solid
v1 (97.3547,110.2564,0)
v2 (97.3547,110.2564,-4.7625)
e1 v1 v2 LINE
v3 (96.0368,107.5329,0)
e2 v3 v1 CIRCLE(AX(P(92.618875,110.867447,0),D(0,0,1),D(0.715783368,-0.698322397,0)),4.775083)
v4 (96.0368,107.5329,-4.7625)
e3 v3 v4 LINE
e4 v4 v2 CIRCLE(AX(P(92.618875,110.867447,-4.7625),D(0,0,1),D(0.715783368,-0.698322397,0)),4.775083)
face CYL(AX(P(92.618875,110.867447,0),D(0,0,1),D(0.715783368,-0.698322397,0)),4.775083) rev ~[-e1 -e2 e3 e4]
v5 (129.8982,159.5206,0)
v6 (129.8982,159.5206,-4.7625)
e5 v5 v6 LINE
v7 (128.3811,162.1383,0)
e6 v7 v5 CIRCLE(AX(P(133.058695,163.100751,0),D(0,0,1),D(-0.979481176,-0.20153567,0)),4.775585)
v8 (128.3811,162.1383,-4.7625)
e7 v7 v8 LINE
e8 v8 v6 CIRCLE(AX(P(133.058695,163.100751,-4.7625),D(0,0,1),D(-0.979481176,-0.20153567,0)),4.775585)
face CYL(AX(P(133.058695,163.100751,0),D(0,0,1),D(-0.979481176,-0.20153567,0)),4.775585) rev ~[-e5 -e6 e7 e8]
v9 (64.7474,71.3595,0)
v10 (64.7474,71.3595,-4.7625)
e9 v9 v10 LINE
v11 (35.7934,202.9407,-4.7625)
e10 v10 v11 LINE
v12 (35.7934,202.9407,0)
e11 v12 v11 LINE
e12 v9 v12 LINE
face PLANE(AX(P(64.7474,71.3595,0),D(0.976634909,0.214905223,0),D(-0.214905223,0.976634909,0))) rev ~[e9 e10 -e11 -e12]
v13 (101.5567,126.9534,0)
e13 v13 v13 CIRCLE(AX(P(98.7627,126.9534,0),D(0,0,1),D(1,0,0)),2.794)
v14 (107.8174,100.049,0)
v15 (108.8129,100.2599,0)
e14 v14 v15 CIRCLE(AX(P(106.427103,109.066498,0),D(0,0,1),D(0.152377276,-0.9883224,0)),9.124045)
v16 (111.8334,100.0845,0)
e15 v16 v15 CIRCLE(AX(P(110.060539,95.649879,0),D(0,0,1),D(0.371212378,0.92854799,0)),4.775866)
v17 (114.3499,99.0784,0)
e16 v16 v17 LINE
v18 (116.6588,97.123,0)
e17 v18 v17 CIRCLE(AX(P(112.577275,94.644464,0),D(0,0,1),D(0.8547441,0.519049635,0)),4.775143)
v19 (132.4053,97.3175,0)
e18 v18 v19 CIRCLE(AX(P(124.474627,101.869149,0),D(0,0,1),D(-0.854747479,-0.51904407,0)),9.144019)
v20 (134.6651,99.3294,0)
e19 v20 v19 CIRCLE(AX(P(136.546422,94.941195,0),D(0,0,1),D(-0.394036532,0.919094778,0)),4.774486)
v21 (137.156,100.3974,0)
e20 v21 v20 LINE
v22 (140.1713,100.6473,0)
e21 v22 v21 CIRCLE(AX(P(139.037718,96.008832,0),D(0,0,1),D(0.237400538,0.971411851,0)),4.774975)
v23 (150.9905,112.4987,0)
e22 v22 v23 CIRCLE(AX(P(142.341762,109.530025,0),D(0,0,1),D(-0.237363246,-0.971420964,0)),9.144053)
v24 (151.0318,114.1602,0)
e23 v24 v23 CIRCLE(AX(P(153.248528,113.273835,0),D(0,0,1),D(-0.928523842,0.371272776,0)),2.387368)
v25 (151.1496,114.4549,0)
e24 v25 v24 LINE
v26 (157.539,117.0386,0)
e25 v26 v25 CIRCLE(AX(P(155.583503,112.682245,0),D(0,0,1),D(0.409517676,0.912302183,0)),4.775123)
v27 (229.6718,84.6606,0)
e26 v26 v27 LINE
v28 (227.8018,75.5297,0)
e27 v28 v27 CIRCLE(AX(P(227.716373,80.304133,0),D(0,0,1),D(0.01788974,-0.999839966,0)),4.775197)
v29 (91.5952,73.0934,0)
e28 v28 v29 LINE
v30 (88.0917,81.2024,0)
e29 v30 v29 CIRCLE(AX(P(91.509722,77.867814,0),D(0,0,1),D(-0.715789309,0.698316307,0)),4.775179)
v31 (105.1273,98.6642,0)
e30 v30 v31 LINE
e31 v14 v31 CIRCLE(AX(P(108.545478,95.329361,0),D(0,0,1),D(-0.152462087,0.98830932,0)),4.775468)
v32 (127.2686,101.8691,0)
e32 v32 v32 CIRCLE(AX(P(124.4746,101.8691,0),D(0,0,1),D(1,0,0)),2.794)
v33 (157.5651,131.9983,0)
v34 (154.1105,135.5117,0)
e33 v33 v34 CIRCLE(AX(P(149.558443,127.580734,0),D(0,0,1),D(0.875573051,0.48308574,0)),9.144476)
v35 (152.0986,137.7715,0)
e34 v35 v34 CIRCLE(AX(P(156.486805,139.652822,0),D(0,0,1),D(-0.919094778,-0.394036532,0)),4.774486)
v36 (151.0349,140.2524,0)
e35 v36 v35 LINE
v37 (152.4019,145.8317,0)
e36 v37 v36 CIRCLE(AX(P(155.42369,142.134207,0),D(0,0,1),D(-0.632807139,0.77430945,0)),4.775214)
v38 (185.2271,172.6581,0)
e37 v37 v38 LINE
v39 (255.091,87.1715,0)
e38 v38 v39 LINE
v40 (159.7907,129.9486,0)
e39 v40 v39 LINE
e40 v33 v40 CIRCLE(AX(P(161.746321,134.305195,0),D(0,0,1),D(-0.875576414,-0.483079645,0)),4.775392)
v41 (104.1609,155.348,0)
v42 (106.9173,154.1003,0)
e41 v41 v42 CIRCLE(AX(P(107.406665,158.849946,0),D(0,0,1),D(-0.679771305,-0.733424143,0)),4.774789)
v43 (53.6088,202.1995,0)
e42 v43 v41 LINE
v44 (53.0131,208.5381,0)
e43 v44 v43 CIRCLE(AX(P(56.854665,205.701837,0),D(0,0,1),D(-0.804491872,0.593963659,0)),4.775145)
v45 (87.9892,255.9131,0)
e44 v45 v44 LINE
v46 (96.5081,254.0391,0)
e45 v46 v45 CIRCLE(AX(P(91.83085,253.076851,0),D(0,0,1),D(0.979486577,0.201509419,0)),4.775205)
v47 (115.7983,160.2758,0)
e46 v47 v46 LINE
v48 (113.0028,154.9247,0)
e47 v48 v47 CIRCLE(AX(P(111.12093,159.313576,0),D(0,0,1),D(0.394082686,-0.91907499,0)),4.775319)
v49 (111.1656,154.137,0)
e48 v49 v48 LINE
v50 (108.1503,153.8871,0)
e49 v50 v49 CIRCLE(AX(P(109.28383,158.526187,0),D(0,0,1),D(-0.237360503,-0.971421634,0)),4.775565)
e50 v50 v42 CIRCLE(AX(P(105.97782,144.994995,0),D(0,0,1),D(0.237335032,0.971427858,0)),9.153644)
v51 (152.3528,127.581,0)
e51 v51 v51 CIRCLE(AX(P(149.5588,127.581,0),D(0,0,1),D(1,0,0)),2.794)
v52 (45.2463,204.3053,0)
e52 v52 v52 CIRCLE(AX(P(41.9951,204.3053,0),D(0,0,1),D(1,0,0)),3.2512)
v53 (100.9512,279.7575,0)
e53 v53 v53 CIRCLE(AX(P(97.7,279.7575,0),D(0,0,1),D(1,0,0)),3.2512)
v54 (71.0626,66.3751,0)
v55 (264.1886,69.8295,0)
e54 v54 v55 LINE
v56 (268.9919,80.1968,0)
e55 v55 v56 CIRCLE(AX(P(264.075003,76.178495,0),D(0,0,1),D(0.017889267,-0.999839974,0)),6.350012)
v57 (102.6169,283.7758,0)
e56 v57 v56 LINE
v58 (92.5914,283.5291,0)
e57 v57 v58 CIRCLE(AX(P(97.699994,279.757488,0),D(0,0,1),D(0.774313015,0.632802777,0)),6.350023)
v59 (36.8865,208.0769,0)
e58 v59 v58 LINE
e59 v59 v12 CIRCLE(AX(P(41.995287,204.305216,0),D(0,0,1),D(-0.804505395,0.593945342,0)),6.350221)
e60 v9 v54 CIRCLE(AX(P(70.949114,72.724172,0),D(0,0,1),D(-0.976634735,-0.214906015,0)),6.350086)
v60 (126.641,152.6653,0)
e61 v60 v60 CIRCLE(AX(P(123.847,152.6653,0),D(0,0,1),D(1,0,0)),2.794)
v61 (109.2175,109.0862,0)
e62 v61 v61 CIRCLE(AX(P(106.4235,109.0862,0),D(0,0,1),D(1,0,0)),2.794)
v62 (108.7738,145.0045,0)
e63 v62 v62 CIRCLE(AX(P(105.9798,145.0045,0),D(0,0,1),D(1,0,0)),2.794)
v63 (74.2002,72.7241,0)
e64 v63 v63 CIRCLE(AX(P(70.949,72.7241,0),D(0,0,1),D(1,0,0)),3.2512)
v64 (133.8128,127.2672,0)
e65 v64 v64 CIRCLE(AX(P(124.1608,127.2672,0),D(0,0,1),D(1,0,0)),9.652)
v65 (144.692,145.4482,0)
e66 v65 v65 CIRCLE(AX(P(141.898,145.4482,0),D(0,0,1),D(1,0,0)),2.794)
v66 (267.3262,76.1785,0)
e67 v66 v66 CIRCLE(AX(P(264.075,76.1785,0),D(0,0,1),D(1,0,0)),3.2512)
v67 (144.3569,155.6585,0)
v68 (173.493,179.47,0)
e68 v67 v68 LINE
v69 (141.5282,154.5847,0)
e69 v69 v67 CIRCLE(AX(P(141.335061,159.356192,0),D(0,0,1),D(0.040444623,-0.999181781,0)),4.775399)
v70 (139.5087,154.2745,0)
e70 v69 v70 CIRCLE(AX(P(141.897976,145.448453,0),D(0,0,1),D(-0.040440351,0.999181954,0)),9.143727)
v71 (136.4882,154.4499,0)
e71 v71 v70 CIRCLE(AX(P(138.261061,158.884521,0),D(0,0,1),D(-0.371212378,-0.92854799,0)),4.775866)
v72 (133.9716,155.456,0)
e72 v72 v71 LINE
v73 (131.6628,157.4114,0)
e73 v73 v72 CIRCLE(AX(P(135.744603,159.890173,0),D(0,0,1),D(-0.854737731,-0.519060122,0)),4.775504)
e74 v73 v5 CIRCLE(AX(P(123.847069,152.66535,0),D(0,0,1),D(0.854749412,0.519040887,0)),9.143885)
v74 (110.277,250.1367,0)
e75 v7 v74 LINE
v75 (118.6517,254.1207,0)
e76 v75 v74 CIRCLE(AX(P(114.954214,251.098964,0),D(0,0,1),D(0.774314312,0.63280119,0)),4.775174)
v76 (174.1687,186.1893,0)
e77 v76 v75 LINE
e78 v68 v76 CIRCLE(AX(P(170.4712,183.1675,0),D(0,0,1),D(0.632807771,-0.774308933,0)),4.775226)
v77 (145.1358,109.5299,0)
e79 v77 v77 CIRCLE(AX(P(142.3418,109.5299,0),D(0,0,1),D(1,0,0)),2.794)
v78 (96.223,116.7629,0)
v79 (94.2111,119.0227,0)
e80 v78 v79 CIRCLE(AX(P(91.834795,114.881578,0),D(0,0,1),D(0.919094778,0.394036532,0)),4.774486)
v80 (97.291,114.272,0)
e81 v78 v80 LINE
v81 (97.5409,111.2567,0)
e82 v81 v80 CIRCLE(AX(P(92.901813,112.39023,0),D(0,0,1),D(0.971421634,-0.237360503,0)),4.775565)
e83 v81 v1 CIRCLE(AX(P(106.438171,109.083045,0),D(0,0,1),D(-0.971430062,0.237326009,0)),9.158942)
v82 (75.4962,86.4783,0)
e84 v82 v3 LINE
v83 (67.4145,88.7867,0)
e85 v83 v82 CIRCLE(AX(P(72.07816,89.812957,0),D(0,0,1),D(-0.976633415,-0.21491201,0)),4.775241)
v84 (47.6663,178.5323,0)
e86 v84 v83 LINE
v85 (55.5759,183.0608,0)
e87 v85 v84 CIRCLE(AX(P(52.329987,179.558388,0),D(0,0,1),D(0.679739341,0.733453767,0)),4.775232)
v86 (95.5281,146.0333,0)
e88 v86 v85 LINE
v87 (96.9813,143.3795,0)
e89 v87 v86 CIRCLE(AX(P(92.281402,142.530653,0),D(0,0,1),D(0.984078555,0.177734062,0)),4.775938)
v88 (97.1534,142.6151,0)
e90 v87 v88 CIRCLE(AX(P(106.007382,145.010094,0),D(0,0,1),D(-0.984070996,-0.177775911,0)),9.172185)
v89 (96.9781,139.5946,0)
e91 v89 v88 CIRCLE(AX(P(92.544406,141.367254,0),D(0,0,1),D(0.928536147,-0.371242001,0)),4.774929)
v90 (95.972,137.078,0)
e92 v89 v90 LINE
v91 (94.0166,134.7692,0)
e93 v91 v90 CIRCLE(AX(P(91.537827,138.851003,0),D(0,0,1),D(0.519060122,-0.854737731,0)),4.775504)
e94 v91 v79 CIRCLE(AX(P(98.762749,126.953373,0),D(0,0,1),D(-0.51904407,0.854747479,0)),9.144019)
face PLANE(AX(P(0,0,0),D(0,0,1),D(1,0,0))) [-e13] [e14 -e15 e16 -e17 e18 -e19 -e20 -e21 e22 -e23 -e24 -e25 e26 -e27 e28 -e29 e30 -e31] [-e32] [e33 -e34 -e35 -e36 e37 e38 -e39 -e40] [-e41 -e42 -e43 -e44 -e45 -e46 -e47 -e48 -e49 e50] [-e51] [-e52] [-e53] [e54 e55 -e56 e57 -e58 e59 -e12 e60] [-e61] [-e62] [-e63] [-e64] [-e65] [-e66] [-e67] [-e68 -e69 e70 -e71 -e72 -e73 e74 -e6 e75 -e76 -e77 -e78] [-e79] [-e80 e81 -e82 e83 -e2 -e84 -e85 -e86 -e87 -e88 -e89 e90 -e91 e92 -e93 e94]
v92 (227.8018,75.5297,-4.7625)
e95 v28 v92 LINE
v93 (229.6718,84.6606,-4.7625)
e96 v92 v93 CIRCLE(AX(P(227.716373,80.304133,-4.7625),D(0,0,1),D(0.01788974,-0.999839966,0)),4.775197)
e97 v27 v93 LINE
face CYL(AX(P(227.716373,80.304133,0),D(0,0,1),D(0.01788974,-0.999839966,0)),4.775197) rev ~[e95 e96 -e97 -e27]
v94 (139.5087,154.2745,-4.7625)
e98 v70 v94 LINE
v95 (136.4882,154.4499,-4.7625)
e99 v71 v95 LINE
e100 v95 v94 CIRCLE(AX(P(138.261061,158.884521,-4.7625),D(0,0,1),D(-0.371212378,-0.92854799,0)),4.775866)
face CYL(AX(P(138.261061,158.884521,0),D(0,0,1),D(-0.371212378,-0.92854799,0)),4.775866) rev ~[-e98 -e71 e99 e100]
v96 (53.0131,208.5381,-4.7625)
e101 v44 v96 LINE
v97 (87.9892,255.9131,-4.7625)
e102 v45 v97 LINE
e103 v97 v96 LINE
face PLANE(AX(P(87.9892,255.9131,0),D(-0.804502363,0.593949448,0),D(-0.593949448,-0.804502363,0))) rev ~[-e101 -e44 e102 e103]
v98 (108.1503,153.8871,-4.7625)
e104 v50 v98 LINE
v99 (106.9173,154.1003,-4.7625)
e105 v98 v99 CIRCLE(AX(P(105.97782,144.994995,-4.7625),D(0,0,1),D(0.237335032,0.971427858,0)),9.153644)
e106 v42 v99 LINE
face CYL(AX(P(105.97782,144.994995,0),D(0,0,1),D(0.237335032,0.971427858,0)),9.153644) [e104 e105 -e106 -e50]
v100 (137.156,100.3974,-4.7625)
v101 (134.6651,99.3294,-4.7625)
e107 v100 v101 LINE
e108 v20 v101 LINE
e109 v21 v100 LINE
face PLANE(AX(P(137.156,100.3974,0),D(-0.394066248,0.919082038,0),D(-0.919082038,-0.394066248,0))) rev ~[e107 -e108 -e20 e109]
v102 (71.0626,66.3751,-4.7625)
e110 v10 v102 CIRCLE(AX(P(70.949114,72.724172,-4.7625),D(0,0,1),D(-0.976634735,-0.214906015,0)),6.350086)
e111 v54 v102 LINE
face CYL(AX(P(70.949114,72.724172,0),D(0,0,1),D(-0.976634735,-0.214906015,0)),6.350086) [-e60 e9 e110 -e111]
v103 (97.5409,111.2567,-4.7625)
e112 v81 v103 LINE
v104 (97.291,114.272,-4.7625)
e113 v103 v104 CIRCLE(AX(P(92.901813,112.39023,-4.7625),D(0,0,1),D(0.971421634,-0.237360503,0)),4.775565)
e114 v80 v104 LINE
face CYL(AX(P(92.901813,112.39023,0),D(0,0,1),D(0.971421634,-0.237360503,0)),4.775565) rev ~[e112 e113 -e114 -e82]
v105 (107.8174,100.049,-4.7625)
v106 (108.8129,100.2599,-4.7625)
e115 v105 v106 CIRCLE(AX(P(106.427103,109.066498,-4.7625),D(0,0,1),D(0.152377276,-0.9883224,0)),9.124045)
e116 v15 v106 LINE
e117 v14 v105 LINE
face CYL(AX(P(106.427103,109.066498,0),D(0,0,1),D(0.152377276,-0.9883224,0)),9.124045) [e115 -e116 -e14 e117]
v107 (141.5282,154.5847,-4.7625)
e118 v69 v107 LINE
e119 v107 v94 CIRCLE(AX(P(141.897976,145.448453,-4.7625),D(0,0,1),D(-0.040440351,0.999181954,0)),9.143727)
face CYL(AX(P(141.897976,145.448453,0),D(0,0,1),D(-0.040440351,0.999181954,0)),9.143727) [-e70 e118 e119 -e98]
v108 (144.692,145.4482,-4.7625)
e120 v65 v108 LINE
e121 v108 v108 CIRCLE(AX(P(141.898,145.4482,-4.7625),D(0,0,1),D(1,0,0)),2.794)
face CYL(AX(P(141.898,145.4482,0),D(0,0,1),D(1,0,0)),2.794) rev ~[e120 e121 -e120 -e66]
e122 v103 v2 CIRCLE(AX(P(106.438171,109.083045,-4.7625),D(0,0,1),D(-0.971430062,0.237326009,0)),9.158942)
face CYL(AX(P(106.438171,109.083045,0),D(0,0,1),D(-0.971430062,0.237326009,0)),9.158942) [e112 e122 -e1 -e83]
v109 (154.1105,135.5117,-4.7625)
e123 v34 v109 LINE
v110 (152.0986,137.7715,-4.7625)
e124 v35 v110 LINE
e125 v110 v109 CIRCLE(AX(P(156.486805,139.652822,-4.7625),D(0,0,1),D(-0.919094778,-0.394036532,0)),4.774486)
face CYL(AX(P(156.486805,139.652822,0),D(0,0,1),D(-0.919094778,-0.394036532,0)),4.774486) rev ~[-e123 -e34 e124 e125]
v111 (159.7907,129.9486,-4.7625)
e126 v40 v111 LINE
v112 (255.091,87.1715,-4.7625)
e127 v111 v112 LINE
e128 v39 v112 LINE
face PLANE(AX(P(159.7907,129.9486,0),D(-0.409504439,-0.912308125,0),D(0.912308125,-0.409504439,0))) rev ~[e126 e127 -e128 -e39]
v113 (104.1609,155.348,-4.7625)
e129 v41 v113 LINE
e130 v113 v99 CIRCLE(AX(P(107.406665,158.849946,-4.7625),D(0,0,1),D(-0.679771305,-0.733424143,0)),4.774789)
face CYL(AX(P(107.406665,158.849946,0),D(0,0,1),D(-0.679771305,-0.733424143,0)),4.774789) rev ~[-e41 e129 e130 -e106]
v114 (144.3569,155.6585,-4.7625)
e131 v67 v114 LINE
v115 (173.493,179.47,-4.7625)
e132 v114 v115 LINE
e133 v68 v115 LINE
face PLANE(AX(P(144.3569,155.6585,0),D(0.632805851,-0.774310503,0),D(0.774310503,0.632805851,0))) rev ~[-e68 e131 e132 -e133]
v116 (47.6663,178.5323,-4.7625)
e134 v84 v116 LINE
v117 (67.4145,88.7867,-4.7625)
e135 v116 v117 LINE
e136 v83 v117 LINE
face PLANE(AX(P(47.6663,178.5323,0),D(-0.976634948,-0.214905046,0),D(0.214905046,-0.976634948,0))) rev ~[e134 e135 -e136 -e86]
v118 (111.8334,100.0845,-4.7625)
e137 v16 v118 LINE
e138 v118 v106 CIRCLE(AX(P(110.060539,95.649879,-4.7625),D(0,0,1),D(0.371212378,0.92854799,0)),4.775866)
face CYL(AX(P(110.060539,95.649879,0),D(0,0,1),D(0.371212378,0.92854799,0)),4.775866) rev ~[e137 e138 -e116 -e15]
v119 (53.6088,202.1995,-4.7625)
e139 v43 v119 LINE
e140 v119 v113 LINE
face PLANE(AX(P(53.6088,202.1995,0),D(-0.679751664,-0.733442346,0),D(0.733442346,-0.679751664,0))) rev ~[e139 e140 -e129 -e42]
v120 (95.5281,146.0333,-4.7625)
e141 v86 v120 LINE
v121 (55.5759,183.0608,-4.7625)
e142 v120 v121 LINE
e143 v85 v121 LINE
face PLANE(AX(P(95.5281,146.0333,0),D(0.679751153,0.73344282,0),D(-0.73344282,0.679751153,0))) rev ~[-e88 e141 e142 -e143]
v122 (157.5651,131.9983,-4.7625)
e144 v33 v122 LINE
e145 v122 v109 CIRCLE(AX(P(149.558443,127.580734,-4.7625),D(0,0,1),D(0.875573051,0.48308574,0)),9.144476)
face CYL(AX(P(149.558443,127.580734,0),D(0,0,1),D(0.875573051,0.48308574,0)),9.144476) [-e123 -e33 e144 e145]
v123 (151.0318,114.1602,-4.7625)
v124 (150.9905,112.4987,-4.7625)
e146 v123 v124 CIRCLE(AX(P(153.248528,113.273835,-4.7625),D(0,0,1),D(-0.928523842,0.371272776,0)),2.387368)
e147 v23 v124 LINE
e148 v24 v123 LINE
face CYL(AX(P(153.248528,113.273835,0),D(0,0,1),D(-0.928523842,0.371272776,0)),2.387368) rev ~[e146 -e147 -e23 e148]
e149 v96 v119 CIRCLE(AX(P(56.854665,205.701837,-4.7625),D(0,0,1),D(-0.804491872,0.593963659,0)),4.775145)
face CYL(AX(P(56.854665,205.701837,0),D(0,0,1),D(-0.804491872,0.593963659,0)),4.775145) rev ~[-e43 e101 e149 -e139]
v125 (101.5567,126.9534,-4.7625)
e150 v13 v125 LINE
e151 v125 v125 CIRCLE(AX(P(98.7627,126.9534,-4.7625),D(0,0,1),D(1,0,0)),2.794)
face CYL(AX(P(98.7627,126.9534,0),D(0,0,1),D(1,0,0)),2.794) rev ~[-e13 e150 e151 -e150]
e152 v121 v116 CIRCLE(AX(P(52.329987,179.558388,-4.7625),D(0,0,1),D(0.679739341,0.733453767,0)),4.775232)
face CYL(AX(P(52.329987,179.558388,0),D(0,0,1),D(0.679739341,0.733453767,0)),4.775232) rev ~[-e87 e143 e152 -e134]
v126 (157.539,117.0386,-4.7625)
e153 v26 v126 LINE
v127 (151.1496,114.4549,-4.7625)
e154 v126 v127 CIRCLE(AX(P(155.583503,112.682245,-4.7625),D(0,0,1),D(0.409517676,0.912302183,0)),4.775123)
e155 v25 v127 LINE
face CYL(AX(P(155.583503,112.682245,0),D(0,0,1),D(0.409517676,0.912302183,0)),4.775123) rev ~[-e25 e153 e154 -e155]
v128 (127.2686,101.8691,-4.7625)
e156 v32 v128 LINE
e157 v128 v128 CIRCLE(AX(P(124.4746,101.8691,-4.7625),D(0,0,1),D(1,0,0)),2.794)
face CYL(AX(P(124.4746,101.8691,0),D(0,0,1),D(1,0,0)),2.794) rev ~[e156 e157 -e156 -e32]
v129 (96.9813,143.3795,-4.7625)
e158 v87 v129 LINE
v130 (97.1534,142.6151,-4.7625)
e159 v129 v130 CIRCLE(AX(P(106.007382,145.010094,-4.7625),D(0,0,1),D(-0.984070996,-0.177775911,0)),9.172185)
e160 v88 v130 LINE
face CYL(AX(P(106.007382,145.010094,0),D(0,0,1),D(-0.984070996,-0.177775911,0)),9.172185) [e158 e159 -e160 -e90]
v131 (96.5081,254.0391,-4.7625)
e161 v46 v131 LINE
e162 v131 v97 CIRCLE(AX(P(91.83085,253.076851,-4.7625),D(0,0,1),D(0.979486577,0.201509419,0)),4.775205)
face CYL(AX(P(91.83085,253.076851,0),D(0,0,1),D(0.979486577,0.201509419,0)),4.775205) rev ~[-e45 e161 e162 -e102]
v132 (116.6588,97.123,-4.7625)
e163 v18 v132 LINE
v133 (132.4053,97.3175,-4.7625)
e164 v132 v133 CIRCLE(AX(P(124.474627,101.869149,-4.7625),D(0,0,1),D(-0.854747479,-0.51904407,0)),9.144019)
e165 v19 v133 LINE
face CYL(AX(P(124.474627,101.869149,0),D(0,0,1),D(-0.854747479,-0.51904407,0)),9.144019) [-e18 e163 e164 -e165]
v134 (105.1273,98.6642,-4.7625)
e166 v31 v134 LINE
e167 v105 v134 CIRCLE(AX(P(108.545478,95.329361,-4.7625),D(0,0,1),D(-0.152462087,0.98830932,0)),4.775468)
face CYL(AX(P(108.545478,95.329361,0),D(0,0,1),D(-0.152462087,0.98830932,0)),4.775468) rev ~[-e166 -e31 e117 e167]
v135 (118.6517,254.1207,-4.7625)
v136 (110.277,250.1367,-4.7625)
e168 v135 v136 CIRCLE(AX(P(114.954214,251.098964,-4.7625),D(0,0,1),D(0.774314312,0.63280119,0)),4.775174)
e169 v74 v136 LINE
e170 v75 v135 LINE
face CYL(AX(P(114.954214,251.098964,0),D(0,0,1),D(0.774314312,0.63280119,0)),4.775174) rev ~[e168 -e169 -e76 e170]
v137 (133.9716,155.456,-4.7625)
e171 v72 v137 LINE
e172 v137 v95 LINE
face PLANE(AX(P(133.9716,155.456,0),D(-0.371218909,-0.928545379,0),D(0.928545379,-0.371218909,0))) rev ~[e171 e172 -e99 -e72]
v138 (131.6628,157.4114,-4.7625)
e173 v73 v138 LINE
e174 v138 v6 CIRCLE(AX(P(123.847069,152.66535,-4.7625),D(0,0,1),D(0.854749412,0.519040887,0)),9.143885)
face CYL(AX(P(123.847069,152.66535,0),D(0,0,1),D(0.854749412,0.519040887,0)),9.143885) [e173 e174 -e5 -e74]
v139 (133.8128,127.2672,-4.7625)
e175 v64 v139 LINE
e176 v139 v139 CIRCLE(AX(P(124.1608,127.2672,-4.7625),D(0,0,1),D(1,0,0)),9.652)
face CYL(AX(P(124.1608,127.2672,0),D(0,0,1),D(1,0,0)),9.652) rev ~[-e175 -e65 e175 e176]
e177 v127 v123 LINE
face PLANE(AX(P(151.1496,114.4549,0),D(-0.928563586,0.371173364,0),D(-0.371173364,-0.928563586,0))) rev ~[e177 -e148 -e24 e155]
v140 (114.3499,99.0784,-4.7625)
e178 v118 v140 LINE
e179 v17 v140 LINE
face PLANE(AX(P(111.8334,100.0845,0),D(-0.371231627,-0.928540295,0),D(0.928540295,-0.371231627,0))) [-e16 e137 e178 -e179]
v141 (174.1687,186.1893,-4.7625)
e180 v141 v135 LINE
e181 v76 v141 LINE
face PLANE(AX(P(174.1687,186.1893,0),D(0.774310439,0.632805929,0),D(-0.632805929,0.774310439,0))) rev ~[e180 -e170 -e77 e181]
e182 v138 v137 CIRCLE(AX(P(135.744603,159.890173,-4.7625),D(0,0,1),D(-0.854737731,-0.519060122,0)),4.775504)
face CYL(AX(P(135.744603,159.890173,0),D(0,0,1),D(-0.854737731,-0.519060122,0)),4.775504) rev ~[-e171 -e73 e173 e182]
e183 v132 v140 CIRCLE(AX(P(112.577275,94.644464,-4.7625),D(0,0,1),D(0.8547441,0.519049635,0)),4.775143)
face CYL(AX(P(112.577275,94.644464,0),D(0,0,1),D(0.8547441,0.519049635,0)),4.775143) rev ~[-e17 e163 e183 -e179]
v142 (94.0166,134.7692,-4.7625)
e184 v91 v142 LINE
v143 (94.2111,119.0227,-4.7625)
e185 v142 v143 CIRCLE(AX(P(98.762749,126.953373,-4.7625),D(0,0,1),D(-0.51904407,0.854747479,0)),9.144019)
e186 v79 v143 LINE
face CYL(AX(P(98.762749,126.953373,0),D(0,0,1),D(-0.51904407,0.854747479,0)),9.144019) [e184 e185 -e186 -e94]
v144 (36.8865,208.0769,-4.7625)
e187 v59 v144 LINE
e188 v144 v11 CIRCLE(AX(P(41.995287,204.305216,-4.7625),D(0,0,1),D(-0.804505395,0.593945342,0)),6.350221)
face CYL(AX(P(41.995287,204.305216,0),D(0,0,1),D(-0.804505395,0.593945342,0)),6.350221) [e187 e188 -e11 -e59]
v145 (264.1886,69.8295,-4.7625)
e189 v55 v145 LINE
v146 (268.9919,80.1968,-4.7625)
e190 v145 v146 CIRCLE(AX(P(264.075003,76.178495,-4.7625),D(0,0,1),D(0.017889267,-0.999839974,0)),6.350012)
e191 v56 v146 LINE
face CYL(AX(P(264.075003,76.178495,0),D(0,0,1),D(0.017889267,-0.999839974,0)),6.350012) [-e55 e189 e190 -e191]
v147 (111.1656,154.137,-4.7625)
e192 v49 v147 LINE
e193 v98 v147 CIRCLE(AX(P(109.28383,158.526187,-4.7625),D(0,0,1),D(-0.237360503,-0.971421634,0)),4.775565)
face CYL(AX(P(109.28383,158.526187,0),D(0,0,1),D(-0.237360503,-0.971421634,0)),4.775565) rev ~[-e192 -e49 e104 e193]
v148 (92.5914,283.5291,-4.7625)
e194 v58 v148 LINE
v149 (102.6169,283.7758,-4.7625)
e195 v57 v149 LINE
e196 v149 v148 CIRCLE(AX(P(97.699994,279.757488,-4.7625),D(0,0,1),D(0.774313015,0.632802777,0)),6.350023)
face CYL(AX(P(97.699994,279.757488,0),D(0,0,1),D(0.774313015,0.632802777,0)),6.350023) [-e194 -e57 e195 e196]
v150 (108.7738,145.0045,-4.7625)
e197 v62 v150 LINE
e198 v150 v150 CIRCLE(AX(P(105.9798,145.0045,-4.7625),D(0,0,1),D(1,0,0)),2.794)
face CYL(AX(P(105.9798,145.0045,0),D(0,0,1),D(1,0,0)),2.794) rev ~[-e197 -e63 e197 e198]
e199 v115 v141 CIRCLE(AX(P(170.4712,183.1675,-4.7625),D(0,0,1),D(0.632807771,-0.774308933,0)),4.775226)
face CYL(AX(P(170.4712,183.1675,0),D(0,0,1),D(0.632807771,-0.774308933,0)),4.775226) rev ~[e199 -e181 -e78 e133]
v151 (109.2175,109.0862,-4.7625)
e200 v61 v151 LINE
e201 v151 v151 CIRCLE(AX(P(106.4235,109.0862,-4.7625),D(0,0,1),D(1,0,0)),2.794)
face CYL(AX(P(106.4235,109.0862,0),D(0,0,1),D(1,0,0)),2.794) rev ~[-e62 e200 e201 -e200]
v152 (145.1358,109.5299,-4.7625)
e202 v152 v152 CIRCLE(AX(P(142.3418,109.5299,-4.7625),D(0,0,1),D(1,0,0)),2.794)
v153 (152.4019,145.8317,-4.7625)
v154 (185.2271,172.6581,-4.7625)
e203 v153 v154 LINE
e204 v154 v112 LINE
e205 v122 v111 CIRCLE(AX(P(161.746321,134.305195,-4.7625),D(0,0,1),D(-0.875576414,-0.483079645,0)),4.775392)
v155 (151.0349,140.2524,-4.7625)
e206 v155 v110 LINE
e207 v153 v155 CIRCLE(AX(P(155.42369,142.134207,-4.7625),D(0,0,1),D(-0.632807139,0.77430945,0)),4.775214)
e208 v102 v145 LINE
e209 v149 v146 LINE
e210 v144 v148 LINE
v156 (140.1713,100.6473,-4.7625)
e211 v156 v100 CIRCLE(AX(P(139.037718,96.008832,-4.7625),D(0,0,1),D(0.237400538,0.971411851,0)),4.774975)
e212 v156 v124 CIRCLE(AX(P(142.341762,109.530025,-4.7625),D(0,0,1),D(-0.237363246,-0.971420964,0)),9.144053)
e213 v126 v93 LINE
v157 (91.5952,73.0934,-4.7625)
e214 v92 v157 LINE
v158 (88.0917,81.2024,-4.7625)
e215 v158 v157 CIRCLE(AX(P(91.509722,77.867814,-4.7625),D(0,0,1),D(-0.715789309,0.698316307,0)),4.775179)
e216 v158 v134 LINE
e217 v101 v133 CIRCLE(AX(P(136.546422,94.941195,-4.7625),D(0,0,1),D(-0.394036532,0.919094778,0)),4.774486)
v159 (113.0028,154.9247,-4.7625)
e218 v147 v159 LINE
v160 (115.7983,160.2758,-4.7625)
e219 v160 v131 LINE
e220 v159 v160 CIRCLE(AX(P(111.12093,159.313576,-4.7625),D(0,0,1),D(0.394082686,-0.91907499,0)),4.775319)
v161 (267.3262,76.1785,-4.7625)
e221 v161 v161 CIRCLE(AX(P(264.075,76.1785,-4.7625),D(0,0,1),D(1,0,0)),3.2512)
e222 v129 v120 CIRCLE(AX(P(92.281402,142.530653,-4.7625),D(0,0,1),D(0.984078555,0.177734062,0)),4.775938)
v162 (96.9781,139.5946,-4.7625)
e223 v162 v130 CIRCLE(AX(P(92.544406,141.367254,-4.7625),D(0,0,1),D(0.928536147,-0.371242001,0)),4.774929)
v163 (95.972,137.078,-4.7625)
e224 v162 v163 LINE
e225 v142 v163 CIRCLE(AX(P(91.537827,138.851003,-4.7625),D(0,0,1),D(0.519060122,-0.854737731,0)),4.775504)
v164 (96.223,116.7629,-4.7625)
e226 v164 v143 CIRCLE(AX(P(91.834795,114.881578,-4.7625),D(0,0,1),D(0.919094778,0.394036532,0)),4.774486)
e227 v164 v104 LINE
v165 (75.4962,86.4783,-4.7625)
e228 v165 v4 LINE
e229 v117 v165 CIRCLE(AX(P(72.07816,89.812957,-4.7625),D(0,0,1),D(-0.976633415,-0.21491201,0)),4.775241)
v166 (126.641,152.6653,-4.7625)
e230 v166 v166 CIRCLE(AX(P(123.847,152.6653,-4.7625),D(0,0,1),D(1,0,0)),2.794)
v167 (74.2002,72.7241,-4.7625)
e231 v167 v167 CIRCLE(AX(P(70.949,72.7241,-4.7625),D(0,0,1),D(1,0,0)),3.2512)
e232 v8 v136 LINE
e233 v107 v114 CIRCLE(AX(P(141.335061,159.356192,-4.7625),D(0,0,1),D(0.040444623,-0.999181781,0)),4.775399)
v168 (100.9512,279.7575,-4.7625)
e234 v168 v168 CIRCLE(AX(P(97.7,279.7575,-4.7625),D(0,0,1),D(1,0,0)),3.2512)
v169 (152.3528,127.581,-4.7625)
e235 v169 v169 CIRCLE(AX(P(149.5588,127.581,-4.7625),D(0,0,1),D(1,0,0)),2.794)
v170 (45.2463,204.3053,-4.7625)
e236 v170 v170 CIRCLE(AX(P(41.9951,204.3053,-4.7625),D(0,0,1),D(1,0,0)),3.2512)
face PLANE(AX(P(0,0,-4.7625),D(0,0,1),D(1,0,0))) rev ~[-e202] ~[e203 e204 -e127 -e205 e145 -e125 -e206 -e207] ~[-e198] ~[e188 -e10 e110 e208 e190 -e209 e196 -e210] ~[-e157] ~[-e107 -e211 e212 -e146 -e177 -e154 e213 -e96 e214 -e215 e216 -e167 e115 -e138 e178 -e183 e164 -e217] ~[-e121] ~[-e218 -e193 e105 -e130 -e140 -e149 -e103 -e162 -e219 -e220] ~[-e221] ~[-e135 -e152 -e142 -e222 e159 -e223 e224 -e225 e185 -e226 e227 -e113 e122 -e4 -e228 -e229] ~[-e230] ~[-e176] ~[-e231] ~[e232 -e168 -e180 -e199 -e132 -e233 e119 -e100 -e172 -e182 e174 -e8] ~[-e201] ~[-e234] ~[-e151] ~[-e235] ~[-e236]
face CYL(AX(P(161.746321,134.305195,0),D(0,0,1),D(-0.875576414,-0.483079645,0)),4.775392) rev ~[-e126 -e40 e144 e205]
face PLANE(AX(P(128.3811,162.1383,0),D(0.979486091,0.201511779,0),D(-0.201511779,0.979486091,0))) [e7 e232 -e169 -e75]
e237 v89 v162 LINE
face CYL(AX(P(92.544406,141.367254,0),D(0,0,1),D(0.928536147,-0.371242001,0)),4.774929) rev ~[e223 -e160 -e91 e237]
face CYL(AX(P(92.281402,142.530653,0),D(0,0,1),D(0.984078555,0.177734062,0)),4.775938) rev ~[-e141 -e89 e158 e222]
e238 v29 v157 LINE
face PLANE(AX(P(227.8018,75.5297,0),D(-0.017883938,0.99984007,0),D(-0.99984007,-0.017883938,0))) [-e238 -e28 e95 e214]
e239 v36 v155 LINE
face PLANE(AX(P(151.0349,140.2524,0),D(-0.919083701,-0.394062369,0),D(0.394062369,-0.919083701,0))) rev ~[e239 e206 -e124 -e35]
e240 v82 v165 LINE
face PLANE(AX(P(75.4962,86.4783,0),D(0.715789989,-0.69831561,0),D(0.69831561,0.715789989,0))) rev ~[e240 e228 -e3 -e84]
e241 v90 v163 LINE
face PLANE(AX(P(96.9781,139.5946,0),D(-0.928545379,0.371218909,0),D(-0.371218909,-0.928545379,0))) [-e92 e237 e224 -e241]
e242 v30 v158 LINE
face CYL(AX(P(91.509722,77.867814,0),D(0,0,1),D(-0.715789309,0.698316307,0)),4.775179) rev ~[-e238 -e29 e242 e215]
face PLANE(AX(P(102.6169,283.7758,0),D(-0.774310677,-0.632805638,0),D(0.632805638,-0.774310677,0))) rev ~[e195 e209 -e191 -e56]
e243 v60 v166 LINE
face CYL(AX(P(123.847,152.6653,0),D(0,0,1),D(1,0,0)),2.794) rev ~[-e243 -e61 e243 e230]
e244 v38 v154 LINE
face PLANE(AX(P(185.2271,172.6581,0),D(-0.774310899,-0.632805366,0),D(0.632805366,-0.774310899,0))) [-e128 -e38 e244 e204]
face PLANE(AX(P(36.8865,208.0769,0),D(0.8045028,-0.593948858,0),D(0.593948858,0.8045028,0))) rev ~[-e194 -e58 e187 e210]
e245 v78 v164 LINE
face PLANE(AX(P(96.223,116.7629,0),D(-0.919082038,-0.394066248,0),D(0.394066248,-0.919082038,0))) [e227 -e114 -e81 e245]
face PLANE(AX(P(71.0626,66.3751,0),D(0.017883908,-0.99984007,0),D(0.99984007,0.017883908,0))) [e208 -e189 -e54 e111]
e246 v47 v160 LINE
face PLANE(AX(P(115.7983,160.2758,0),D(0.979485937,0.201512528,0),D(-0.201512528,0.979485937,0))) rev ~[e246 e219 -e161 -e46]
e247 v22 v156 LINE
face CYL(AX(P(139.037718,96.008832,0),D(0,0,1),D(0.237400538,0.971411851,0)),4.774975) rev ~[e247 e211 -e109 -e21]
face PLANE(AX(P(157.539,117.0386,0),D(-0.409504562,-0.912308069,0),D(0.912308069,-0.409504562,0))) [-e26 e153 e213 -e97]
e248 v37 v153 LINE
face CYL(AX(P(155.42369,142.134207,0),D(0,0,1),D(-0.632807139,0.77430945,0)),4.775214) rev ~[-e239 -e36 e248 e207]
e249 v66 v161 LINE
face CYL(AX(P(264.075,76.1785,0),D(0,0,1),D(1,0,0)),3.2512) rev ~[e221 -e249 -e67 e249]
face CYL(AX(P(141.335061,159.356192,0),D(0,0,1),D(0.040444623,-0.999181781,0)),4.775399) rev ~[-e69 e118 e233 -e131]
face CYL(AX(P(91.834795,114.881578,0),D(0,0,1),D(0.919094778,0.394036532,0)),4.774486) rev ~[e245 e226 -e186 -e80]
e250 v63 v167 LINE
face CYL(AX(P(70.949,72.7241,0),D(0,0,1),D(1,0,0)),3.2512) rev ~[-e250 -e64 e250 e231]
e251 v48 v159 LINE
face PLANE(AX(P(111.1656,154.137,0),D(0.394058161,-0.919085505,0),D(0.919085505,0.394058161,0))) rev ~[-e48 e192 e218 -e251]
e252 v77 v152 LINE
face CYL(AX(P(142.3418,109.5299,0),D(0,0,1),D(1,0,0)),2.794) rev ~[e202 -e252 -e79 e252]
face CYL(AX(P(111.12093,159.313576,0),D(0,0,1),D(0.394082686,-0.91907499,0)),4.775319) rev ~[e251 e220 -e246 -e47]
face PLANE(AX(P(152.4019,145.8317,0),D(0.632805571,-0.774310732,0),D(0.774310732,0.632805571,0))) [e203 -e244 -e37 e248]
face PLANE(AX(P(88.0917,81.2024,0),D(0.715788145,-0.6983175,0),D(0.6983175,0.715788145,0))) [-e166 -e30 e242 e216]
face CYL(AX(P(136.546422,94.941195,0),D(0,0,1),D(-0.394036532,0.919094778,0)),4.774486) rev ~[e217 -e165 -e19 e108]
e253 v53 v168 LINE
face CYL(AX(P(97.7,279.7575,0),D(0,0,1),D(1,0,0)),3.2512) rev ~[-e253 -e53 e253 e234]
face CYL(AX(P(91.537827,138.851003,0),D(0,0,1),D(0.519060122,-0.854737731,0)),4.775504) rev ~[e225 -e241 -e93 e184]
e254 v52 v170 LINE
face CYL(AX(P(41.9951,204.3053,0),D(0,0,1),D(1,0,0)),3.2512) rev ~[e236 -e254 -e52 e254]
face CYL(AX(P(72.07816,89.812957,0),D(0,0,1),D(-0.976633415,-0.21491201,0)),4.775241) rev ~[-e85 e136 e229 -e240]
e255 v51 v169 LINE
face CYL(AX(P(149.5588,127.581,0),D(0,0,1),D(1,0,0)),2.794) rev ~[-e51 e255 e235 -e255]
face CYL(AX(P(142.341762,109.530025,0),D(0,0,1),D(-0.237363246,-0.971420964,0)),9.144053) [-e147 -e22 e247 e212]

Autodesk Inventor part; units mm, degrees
ref_plane "YZ Plane" through (0, 0, 0) normal (1, 0, 0) x (0, 1, 0)
ref_plane "XZ Plane" through (0, 0, 0) normal (0, 1, 0) x (-1, 0, 0)
ref_plane "XY Plane" through (0, 0, 0) normal (0, 0, 1) x (1, 0, 0)
sketch "Sketch2" plane through (0, 0, 0) normal (0, 0, 1) x (1, 0, 0)
  line L0 (0, 0) -> (264.075, 76.1785) construction
  circle A0 centre (264.075, 76.1785) radius 3.2512
  line L1 (0, 0) -> (41.9951, 204.3053) construction
  circle A1 centre (41.9951, 204.3053) radius 3.2512
  line L2 (0, 0) -> (97.7, 279.7575) construction
  circle A2 centre (97.7, 279.7575) radius 3.2512
  line L3 (0, 0) -> (70.949, 72.7241) construction
  circle A3 centre (70.949, 72.7241) radius 3.2512
  circle A4 centre (0, 0) radius 142.24 construction
  circle A5 centre (124.1608, 127.2672) radius 35.56 construction
  circle A6 centre (124.1608, 127.2672) radius 30 construction
  circle A7 centre (97.7, 279.7575) radius 6.35 construction
  circle A8 centre (41.9951, 204.3053) radius 6.35 construction
  circle A9 centre (70.949, 72.7241) radius 6.35 construction
  circle A10 centre (264.075, 76.1785) radius 6.35 construction
  line L4 (102.6169, 283.7758) -> (268.9919, 80.1968)
  line L5 (71.0626, 66.3751) -> (264.1886, 69.8295)
  line L6 (64.7474, 71.3595) -> (35.7934, 202.9407)
  line L7 (36.8865, 208.0769) -> (92.5914, 283.5291)
  arc A11 (36.8865, 208.0769) -> (35.7934, 202.9407) centre (41.9951, 204.3053) ccw
  arc A12 (102.6169, 283.7758) -> (92.5914, 283.5291) centre (97.7, 279.7575) ccw
  arc A13 (264.1886, 69.8295) -> (268.9919, 80.1968) centre (264.075, 76.1785) ccw
  arc A14 (64.7474, 71.3595) -> (71.0626, 66.3751) centre (70.949, 72.7241) ccw
  circle A15 centre (124.1608, 127.2672) radius 25.4 construction
  circle A16 centre (141.898, 145.4482) radius 2.794
  circle A17 centre (123.847, 152.6653) radius 2.794
  circle A18 centre (105.9798, 145.0045) radius 2.794
  circle A19 centre (98.7627, 126.9534) radius 2.794
  circle A20 centre (106.4235, 109.0862) radius 2.794
  circle A21 centre (124.4746, 101.8691) radius 2.794
  circle A22 centre (142.3418, 109.5299) radius 2.794
  circle A23 centre (149.5588, 127.581) radius 2.794
  circle A24 centre (124.1608, 127.2672) radius 9.652
  dimension "d84" = 50.8
  dimension "d63" = 6.5024
  dimension "d64" = 274.8432
  dimension "d65" = 76.1785
  dimension "d66" = 208.5767
  dimension "d67" = 6.5024
  dimension "d68" = 204.3053
  dimension "d69" = 6.5024
  dimension "d70" = 296.3268
  dimension "d71" = 279.7575
  dimension "d72" = 101.6
  dimension "d73" = 6.5024
  dimension "d74" = 72.7241
  dimension "d75" = 284.48
  dimension "d76" = 71.12
  dimension "d77" = 60
  dimension "d78" = 12.7
  dimension "d79" = 12.7
  dimension "d80" = 12.7
  dimension "d81" = 12.7
  dimension "d85" = 5.588
  dimension "d88" = 360
  dimension "d142" = 19.304
extrude "Extrusion5" add sketch "Sketch2" against normal blind 4.7625
sketch "Sketch4" plane through (0, 0, 0) normal (0, 0, 1) x (1, 0, 0)
  line L0 (35.7934, 202.9407) -> (64.7474, 71.3595) construction
  arc A0 (64.7474, 71.3595) -> (71.0626, 66.3751) centre (70.949, 72.7241) ccw construction
  line L1 (71.0626, 66.3751) -> (264.1886, 69.8295) construction
  arc A1 (264.1886, 69.8295) -> (268.9919, 80.1968) centre (264.075, 76.1785) ccw construction
  line L2 (268.9919, 80.1968) -> (102.6169, 283.7758) construction
  arc A2 (102.6169, 283.7758) -> (92.5914, 283.5291) centre (97.7, 279.7575) ccw construction
  line L3 (92.5914, 283.5291) -> (36.8865, 208.0769) construction
  arc A3 (36.8865, 208.0769) -> (35.7934, 202.9407) centre (41.9951, 204.3053) ccw construction
  circle A4 centre (97.7, 279.7575) radius 3.2512 construction
  circle A5 centre (98.7627, 126.9534) radius 2.794 construction
  circle A6 centre (124.1608, 127.2672) radius 9.652 construction
  circle A7 centre (149.5588, 127.581) radius 2.794 construction
  circle A8 centre (142.3418, 109.5299) radius 2.794 construction
  circle A9 centre (124.4746, 101.8691) radius 2.794 construction
  circle A10 centre (106.4235, 109.0862) radius 2.794 construction
  circle A11 centre (105.9798, 145.0045) radius 2.794 construction
  circle A12 centre (123.847, 152.6653) radius 2.794 construction
  circle A13 centre (141.898, 145.4482) radius 2.794 construction
  circle A14 centre (70.949, 72.7241) radius 3.2512 construction
  circle A15 centre (41.9951, 204.3053) radius 3.2512 construction
  circle A16 centre (264.075, 76.1785) radius 3.2512 construction
  circle A17 centre (41.9951, 204.3053) radius 9.6012 construction
  circle A18 centre (70.949, 72.7241) radius 9.6012 construction
  circle A19 centre (124.1608, 127.2672) radius 16.002 construction
  circle A20 centre (98.7627, 126.9534) radius 9.144 construction
  circle A21 centre (105.9798, 145.0045) radius 9.144 construction
  circle A22 centre (106.4235, 109.0862) radius 9.144 construction
  circle A23 centre (124.4746, 101.8691) radius 9.144 construction
  circle A24 centre (142.3418, 109.5299) radius 9.144 construction
  circle A25 centre (149.5588, 127.581) radius 9.144 construction
  circle A26 centre (141.898, 145.4482) radius 9.144 construction
  circle A27 centre (123.847, 152.6653) radius 9.144 construction
  circle A28 centre (97.7, 279.7575) radius 9.6012 construction
  circle A29 centre (264.075, 76.1785) radius 9.6012 construction
  line L4 (97.7, 279.7575) -> (264.075, 76.1785) construction
  line L5 (264.075, 76.1785) -> (70.949, 72.7241) construction
  line L6 (70.949, 72.7241) -> (41.9951, 204.3053) construction
  line L7 (41.9951, 204.3053) -> (97.7, 279.7575) construction
  line L8 (97.7, 279.7575) -> (123.847, 152.6653) construction
  line L9 (123.847, 152.6653) -> (105.9798, 145.0045) construction
  line L10 (105.9798, 145.0045) -> (41.9951, 204.3053) construction
  line L11 (115.7983, 160.2758) -> (96.5081, 254.0391)
  line L12 (87.9892, 255.9131) -> (53.0131, 208.5381)
  line L13 (53.6088, 202.1995) -> (104.1609, 155.348)
  line L14 (111.1656, 154.137) -> (113.0028, 154.9247)
  arc A30 (96.5081, 254.0391) -> (87.9892, 255.9131) centre (91.8309, 253.0769) ccw
  arc A31 (53.0131, 208.5381) -> (53.6088, 202.1995) centre (56.8548, 205.7018) ccw
  arc A32 (108.1503, 153.8871) -> (106.9173, 154.1003) centre (105.9798, 145.0045) ccw
  arc A33 (116.3014, 157.8302) -> (115.2975, 155.9086) centre (123.847, 152.6653) ccw construction
  arc A34 (113.0028, 154.9247) -> (115.7983, 160.2758) centre (111.121, 159.3135) ccw
  arc A35 (108.1503, 153.8871) -> (111.1656, 154.137) centre (109.2838, 158.5258) ccw
  arc A36 (104.1609, 155.348) -> (106.9173, 154.1003) centre (107.4069, 158.8503) ccw
  line L15 (148.9783, 151.2346) -> (181.2088, 177.5749) construction
  line L16 (132.3375, 149.2706) -> (133.4075, 148.8428) construction
  line L17 (133.9716, 155.456) -> (136.4882, 154.4499)
  line L18 (144.3569, 155.6585) -> (173.493, 179.47)
  line L19 (128.3811, 162.1383) -> (110.277, 250.1367)
  arc A37 (131.6628, 157.4114) -> (129.8982, 159.5206) centre (123.847, 152.6653) ccw
  arc A38 (141.5282, 154.5847) -> (139.5087, 154.2745) centre (141.898, 145.4482) ccw
  line L20 (174.1687, 186.1893) -> (118.6517, 254.1207)
  arc A39 (118.6517, 254.1207) -> (110.277, 250.1367) centre (114.9542, 251.0989) ccw
  arc A40 (173.493, 179.47) -> (174.1687, 186.1893) centre (170.4712, 183.1675) ccw
  arc A41 (141.5282, 154.5847) -> (144.3569, 155.6585) centre (141.3351, 159.356) ccw
  arc A42 (136.4882, 154.4499) -> (139.5087, 154.2745) centre (138.2609, 158.8838) ccw
  arc A43 (131.6628, 157.4114) -> (133.9716, 155.456) centre (135.7444, 159.89) ccw
  arc A44 (128.3811, 162.1383) -> (129.8982, 159.5206) centre (133.0583, 163.1006) ccw
  line L21 (157.901, 123.8365) -> (255.3158, 80.1103) construction
  line L22 (145.5014, 137.0441) -> (145.9555, 135.9851) construction
  line L23 (152.4019, 145.8317) -> (185.2271, 172.6581)
  line L24 (151.0349, 140.2524) -> (152.0986, 137.7715)
  line L25 (159.7907, 129.9486) -> (255.091, 87.1715)
  line L26 (185.2271, 172.6581) -> (255.091, 87.1715)
  arc A45 (150.327, 141.9034) -> (151.011, 144.6949) centre (141.898, 145.4482) ccw construction
  arc A46 (157.5651, 131.9983) -> (154.1105, 135.5117) centre (149.5588, 127.581) ccw
  arc A47 (152.0986, 137.7715) -> (154.1105, 135.5117) centre (156.4874, 139.6532) ccw
  arc A48 (157.5651, 131.9983) -> (159.7907, 129.9486) centre (161.7462, 134.3051) ccw
  arc A49 (152.4019, 145.8317) -> (151.0349, 140.2524) centre (155.4237, 142.1342) ccw
  line L27 (77.6537, 79.5965) -> (100.0381, 102.541) construction
  line L28 (114.9141, 105.6915) -> (115.984, 105.2638) construction
  line L29 (133.9377, 105.9266) -> (132.8787, 105.4725) construction
  line L30 (146.1642, 119.0905) -> (145.7364, 118.0205) construction
  line L31 (88.0917, 81.2024) -> (105.1273, 98.6642)
  line L32 (111.8334, 100.0845) -> (114.3499, 99.0784)
  line L33 (137.156, 100.3974) -> (134.6651, 99.3294)
  line L34 (151.1496, 114.4549) -> (151.0318, 114.1602)
  line L35 (157.539, 117.0386) -> (229.6718, 84.6606)
  line L36 (227.8018, 75.5297) -> (91.5952, 73.0934)
  arc A50 (80.5487, 72.8958) -> (80.5232, 73.4445) centre (70.949, 72.7241) ccw
  arc A51 (107.8174, 100.049) -> (108.8129, 100.2599) centre (106.4235, 109.0862) ccw
  arc A52 (116.6588, 97.123) -> (132.4053, 97.3175) centre (124.4746, 101.8691) ccw
  arc A53 (140.1713, 100.6473) -> (150.9905, 112.4987) centre (142.3418, 109.5299) ccw
  arc A54 (157.539, 117.0386) -> (151.1496, 114.4549) centre (155.5835, 112.6821) ccw
  circle A55 centre (153.2487, 113.2738) radius 2.3876 construction
  arc A56 (151.0318, 114.1602) -> (150.9905, 112.4987) centre (153.2487, 113.2738) ccw
  arc A57 (140.1713, 100.6473) -> (137.156, 100.3974) centre (139.0377, 96.0086) ccw
  arc A58 (134.6651, 99.3294) -> (132.4053, 97.3175) centre (136.5468, 94.9406) ccw
  arc A59 (116.6588, 97.123) -> (114.3499, 99.0784) centre (112.5772, 94.6444) ccw
  arc A60 (111.8334, 100.0845) -> (108.8129, 100.2599) centre (110.0607, 95.6506) ccw
  arc A61 (107.8174, 100.049) -> (105.1273, 98.6642) centre (108.5454, 95.3296) ccw
  arc A62 (88.0917, 81.2024) -> (91.5952, 73.0934) centre (91.5098, 77.8678) ccw
  arc A63 (227.8018, 75.5297) -> (229.6718, 84.6606) centre (227.7164, 80.3041) ccw
  line L37 (102.5851, 136.5139) -> (102.1573, 135.4439) construction
  line L38 (102.3661, 118.5493) -> (102.8202, 117.4902) construction
  line L39 (96.223, 116.7629) -> (97.291, 114.272)
  line L40 (96.9781, 139.5946) -> (95.972, 137.078)
  line L41 (75.4962, 86.4783) -> (96.0368, 107.5329)
  arc A64 (97.5409, 111.2567) -> (97.3547, 110.2564) centre (106.4235, 109.0862) ccw
  arc A65 (94.0166, 134.7692) -> (94.2111, 119.0227) centre (98.7627, 126.9534) ccw
  line L42 (95.5281, 146.0333) -> (55.5759, 183.0608)
  line L43 (47.6663, 178.5323) -> (67.4145, 88.7867)
  arc A66 (67.4145, 88.7867) -> (75.4962, 86.4783) centre (72.0781, 89.8129) ccw
  arc A67 (96.0368, 107.5329) -> (97.3547, 110.2564) centre (92.6188, 110.8675) ccw
  arc A68 (97.5409, 111.2567) -> (97.291, 114.272) centre (92.9022, 112.3902) ccw
  arc A69 (96.223, 116.7629) -> (94.2111, 119.0227) centre (91.8342, 114.8812) ccw
  arc A70 (94.0166, 134.7692) -> (95.972, 137.078) centre (91.538, 138.8508) ccw
  arc A71 (96.9813, 143.3795) -> (97.1534, 142.6151) centre (105.9798, 145.0045) ccw
  arc A72 (96.9813, 143.3795) -> (95.5281, 146.0333) centre (92.2821, 142.5309) ccw
  arc A73 (96.9781, 139.5946) -> (97.1534, 142.6151) centre (92.5442, 141.3673) ccw
  arc A74 (55.5759, 183.0608) -> (47.6663, 178.5323) centre (52.33, 179.5585) ccw
  point P0 (0, 0)
  point P1 (105.4705, 154.1343)
  point P2 (109.5245, 153.4334)
  point P3 (132.3137, 156.1189)
  point P4 (138.1461, 153.787)
  point P5 (142.9743, 154.5287)
  point P6 (177.1904, 182.4918)
  point P7 (128.7409, 160.3894)
  point P8 (106.3641, 269.156)
  point P9 (152.8022, 136.1304)
  point P10 (158.1618, 130.6798)
  point P11 (106.3742, 99.9423)
  point P12 (110.1755, 100.7474)
  point P13 (116.0079, 98.4155)
  point P14 (138.797, 101.101)
  point P15 (133.024, 98.6258)
  point P16 (249.1627, 75.9118)
  point P17 (95.5193, 118.4039)
  point P18 (97.9946, 112.631)
  point P19 (97.641, 141.2525)
  point P20 (95.3091, 135.4201)
  point P21 (71.4326, 82.3131)
  point P22 (97.2837, 108.8109)
  point P23 (96.8376, 144.8195)
  point P24 (44.3882, 193.4295)
  point P25 (68.8857, 82.101)
  dimension "d145" = 6.35
  dimension "d146" = 6.35
  dimension "d147" = 6.35
  dimension "d148" = 6.35
  dimension "d149" = 6.35
  dimension "d150" = 6.35
  dimension "d151" = 6.35
  dimension "d152" = 6.35
  dimension "d153" = 6.35
  dimension "d154" = 6.35
  dimension "d155" = 6.35
  dimension "d156" = 6.35
  dimension "d157" = 6.35
  dimension "d158" = 6.35
  dimension "d159" = 6.35
  dimension "d160" = 4.7752
  dimension "d161" = 4.7752
  dimension "d162" = 6.35
  dimension "d163" = 6.35
  dimension "d164" = 6.35
  dimension "d165" = 4.7752
  dimension "d166" = 6.35
  dimension "d167" = 6.35
  dimension "d168" = 6.35
  dimension "d169" = 4.7752
  dimension "d170" = 6.35
  dimension "d171" = 6.35
  dimension "d172" = 6.35
  dimension "d173" = 6.35
  dimension "d174" = 6.35
  dimension "d175" = 4.7752
  dimension "d176" = 4.7752
  dimension "d177" = 4.7752
  dimension "d178" = 4.7752
  dimension "d179" = 6.35
  dimension "d180" = 6.35
  dimension "d181" = 6.35
  dimension "d182" = 6.35
  dimension "d183" = 4.7752
  dimension "d184" = 4.7752
  dimension "d185" = 4.7752
extrude "Extrusion6" cut sketch "Sketch4" against normal blind 4.7625
properties part number "SHOT_1_015_PivotCover" material "Aluminum 6061"
